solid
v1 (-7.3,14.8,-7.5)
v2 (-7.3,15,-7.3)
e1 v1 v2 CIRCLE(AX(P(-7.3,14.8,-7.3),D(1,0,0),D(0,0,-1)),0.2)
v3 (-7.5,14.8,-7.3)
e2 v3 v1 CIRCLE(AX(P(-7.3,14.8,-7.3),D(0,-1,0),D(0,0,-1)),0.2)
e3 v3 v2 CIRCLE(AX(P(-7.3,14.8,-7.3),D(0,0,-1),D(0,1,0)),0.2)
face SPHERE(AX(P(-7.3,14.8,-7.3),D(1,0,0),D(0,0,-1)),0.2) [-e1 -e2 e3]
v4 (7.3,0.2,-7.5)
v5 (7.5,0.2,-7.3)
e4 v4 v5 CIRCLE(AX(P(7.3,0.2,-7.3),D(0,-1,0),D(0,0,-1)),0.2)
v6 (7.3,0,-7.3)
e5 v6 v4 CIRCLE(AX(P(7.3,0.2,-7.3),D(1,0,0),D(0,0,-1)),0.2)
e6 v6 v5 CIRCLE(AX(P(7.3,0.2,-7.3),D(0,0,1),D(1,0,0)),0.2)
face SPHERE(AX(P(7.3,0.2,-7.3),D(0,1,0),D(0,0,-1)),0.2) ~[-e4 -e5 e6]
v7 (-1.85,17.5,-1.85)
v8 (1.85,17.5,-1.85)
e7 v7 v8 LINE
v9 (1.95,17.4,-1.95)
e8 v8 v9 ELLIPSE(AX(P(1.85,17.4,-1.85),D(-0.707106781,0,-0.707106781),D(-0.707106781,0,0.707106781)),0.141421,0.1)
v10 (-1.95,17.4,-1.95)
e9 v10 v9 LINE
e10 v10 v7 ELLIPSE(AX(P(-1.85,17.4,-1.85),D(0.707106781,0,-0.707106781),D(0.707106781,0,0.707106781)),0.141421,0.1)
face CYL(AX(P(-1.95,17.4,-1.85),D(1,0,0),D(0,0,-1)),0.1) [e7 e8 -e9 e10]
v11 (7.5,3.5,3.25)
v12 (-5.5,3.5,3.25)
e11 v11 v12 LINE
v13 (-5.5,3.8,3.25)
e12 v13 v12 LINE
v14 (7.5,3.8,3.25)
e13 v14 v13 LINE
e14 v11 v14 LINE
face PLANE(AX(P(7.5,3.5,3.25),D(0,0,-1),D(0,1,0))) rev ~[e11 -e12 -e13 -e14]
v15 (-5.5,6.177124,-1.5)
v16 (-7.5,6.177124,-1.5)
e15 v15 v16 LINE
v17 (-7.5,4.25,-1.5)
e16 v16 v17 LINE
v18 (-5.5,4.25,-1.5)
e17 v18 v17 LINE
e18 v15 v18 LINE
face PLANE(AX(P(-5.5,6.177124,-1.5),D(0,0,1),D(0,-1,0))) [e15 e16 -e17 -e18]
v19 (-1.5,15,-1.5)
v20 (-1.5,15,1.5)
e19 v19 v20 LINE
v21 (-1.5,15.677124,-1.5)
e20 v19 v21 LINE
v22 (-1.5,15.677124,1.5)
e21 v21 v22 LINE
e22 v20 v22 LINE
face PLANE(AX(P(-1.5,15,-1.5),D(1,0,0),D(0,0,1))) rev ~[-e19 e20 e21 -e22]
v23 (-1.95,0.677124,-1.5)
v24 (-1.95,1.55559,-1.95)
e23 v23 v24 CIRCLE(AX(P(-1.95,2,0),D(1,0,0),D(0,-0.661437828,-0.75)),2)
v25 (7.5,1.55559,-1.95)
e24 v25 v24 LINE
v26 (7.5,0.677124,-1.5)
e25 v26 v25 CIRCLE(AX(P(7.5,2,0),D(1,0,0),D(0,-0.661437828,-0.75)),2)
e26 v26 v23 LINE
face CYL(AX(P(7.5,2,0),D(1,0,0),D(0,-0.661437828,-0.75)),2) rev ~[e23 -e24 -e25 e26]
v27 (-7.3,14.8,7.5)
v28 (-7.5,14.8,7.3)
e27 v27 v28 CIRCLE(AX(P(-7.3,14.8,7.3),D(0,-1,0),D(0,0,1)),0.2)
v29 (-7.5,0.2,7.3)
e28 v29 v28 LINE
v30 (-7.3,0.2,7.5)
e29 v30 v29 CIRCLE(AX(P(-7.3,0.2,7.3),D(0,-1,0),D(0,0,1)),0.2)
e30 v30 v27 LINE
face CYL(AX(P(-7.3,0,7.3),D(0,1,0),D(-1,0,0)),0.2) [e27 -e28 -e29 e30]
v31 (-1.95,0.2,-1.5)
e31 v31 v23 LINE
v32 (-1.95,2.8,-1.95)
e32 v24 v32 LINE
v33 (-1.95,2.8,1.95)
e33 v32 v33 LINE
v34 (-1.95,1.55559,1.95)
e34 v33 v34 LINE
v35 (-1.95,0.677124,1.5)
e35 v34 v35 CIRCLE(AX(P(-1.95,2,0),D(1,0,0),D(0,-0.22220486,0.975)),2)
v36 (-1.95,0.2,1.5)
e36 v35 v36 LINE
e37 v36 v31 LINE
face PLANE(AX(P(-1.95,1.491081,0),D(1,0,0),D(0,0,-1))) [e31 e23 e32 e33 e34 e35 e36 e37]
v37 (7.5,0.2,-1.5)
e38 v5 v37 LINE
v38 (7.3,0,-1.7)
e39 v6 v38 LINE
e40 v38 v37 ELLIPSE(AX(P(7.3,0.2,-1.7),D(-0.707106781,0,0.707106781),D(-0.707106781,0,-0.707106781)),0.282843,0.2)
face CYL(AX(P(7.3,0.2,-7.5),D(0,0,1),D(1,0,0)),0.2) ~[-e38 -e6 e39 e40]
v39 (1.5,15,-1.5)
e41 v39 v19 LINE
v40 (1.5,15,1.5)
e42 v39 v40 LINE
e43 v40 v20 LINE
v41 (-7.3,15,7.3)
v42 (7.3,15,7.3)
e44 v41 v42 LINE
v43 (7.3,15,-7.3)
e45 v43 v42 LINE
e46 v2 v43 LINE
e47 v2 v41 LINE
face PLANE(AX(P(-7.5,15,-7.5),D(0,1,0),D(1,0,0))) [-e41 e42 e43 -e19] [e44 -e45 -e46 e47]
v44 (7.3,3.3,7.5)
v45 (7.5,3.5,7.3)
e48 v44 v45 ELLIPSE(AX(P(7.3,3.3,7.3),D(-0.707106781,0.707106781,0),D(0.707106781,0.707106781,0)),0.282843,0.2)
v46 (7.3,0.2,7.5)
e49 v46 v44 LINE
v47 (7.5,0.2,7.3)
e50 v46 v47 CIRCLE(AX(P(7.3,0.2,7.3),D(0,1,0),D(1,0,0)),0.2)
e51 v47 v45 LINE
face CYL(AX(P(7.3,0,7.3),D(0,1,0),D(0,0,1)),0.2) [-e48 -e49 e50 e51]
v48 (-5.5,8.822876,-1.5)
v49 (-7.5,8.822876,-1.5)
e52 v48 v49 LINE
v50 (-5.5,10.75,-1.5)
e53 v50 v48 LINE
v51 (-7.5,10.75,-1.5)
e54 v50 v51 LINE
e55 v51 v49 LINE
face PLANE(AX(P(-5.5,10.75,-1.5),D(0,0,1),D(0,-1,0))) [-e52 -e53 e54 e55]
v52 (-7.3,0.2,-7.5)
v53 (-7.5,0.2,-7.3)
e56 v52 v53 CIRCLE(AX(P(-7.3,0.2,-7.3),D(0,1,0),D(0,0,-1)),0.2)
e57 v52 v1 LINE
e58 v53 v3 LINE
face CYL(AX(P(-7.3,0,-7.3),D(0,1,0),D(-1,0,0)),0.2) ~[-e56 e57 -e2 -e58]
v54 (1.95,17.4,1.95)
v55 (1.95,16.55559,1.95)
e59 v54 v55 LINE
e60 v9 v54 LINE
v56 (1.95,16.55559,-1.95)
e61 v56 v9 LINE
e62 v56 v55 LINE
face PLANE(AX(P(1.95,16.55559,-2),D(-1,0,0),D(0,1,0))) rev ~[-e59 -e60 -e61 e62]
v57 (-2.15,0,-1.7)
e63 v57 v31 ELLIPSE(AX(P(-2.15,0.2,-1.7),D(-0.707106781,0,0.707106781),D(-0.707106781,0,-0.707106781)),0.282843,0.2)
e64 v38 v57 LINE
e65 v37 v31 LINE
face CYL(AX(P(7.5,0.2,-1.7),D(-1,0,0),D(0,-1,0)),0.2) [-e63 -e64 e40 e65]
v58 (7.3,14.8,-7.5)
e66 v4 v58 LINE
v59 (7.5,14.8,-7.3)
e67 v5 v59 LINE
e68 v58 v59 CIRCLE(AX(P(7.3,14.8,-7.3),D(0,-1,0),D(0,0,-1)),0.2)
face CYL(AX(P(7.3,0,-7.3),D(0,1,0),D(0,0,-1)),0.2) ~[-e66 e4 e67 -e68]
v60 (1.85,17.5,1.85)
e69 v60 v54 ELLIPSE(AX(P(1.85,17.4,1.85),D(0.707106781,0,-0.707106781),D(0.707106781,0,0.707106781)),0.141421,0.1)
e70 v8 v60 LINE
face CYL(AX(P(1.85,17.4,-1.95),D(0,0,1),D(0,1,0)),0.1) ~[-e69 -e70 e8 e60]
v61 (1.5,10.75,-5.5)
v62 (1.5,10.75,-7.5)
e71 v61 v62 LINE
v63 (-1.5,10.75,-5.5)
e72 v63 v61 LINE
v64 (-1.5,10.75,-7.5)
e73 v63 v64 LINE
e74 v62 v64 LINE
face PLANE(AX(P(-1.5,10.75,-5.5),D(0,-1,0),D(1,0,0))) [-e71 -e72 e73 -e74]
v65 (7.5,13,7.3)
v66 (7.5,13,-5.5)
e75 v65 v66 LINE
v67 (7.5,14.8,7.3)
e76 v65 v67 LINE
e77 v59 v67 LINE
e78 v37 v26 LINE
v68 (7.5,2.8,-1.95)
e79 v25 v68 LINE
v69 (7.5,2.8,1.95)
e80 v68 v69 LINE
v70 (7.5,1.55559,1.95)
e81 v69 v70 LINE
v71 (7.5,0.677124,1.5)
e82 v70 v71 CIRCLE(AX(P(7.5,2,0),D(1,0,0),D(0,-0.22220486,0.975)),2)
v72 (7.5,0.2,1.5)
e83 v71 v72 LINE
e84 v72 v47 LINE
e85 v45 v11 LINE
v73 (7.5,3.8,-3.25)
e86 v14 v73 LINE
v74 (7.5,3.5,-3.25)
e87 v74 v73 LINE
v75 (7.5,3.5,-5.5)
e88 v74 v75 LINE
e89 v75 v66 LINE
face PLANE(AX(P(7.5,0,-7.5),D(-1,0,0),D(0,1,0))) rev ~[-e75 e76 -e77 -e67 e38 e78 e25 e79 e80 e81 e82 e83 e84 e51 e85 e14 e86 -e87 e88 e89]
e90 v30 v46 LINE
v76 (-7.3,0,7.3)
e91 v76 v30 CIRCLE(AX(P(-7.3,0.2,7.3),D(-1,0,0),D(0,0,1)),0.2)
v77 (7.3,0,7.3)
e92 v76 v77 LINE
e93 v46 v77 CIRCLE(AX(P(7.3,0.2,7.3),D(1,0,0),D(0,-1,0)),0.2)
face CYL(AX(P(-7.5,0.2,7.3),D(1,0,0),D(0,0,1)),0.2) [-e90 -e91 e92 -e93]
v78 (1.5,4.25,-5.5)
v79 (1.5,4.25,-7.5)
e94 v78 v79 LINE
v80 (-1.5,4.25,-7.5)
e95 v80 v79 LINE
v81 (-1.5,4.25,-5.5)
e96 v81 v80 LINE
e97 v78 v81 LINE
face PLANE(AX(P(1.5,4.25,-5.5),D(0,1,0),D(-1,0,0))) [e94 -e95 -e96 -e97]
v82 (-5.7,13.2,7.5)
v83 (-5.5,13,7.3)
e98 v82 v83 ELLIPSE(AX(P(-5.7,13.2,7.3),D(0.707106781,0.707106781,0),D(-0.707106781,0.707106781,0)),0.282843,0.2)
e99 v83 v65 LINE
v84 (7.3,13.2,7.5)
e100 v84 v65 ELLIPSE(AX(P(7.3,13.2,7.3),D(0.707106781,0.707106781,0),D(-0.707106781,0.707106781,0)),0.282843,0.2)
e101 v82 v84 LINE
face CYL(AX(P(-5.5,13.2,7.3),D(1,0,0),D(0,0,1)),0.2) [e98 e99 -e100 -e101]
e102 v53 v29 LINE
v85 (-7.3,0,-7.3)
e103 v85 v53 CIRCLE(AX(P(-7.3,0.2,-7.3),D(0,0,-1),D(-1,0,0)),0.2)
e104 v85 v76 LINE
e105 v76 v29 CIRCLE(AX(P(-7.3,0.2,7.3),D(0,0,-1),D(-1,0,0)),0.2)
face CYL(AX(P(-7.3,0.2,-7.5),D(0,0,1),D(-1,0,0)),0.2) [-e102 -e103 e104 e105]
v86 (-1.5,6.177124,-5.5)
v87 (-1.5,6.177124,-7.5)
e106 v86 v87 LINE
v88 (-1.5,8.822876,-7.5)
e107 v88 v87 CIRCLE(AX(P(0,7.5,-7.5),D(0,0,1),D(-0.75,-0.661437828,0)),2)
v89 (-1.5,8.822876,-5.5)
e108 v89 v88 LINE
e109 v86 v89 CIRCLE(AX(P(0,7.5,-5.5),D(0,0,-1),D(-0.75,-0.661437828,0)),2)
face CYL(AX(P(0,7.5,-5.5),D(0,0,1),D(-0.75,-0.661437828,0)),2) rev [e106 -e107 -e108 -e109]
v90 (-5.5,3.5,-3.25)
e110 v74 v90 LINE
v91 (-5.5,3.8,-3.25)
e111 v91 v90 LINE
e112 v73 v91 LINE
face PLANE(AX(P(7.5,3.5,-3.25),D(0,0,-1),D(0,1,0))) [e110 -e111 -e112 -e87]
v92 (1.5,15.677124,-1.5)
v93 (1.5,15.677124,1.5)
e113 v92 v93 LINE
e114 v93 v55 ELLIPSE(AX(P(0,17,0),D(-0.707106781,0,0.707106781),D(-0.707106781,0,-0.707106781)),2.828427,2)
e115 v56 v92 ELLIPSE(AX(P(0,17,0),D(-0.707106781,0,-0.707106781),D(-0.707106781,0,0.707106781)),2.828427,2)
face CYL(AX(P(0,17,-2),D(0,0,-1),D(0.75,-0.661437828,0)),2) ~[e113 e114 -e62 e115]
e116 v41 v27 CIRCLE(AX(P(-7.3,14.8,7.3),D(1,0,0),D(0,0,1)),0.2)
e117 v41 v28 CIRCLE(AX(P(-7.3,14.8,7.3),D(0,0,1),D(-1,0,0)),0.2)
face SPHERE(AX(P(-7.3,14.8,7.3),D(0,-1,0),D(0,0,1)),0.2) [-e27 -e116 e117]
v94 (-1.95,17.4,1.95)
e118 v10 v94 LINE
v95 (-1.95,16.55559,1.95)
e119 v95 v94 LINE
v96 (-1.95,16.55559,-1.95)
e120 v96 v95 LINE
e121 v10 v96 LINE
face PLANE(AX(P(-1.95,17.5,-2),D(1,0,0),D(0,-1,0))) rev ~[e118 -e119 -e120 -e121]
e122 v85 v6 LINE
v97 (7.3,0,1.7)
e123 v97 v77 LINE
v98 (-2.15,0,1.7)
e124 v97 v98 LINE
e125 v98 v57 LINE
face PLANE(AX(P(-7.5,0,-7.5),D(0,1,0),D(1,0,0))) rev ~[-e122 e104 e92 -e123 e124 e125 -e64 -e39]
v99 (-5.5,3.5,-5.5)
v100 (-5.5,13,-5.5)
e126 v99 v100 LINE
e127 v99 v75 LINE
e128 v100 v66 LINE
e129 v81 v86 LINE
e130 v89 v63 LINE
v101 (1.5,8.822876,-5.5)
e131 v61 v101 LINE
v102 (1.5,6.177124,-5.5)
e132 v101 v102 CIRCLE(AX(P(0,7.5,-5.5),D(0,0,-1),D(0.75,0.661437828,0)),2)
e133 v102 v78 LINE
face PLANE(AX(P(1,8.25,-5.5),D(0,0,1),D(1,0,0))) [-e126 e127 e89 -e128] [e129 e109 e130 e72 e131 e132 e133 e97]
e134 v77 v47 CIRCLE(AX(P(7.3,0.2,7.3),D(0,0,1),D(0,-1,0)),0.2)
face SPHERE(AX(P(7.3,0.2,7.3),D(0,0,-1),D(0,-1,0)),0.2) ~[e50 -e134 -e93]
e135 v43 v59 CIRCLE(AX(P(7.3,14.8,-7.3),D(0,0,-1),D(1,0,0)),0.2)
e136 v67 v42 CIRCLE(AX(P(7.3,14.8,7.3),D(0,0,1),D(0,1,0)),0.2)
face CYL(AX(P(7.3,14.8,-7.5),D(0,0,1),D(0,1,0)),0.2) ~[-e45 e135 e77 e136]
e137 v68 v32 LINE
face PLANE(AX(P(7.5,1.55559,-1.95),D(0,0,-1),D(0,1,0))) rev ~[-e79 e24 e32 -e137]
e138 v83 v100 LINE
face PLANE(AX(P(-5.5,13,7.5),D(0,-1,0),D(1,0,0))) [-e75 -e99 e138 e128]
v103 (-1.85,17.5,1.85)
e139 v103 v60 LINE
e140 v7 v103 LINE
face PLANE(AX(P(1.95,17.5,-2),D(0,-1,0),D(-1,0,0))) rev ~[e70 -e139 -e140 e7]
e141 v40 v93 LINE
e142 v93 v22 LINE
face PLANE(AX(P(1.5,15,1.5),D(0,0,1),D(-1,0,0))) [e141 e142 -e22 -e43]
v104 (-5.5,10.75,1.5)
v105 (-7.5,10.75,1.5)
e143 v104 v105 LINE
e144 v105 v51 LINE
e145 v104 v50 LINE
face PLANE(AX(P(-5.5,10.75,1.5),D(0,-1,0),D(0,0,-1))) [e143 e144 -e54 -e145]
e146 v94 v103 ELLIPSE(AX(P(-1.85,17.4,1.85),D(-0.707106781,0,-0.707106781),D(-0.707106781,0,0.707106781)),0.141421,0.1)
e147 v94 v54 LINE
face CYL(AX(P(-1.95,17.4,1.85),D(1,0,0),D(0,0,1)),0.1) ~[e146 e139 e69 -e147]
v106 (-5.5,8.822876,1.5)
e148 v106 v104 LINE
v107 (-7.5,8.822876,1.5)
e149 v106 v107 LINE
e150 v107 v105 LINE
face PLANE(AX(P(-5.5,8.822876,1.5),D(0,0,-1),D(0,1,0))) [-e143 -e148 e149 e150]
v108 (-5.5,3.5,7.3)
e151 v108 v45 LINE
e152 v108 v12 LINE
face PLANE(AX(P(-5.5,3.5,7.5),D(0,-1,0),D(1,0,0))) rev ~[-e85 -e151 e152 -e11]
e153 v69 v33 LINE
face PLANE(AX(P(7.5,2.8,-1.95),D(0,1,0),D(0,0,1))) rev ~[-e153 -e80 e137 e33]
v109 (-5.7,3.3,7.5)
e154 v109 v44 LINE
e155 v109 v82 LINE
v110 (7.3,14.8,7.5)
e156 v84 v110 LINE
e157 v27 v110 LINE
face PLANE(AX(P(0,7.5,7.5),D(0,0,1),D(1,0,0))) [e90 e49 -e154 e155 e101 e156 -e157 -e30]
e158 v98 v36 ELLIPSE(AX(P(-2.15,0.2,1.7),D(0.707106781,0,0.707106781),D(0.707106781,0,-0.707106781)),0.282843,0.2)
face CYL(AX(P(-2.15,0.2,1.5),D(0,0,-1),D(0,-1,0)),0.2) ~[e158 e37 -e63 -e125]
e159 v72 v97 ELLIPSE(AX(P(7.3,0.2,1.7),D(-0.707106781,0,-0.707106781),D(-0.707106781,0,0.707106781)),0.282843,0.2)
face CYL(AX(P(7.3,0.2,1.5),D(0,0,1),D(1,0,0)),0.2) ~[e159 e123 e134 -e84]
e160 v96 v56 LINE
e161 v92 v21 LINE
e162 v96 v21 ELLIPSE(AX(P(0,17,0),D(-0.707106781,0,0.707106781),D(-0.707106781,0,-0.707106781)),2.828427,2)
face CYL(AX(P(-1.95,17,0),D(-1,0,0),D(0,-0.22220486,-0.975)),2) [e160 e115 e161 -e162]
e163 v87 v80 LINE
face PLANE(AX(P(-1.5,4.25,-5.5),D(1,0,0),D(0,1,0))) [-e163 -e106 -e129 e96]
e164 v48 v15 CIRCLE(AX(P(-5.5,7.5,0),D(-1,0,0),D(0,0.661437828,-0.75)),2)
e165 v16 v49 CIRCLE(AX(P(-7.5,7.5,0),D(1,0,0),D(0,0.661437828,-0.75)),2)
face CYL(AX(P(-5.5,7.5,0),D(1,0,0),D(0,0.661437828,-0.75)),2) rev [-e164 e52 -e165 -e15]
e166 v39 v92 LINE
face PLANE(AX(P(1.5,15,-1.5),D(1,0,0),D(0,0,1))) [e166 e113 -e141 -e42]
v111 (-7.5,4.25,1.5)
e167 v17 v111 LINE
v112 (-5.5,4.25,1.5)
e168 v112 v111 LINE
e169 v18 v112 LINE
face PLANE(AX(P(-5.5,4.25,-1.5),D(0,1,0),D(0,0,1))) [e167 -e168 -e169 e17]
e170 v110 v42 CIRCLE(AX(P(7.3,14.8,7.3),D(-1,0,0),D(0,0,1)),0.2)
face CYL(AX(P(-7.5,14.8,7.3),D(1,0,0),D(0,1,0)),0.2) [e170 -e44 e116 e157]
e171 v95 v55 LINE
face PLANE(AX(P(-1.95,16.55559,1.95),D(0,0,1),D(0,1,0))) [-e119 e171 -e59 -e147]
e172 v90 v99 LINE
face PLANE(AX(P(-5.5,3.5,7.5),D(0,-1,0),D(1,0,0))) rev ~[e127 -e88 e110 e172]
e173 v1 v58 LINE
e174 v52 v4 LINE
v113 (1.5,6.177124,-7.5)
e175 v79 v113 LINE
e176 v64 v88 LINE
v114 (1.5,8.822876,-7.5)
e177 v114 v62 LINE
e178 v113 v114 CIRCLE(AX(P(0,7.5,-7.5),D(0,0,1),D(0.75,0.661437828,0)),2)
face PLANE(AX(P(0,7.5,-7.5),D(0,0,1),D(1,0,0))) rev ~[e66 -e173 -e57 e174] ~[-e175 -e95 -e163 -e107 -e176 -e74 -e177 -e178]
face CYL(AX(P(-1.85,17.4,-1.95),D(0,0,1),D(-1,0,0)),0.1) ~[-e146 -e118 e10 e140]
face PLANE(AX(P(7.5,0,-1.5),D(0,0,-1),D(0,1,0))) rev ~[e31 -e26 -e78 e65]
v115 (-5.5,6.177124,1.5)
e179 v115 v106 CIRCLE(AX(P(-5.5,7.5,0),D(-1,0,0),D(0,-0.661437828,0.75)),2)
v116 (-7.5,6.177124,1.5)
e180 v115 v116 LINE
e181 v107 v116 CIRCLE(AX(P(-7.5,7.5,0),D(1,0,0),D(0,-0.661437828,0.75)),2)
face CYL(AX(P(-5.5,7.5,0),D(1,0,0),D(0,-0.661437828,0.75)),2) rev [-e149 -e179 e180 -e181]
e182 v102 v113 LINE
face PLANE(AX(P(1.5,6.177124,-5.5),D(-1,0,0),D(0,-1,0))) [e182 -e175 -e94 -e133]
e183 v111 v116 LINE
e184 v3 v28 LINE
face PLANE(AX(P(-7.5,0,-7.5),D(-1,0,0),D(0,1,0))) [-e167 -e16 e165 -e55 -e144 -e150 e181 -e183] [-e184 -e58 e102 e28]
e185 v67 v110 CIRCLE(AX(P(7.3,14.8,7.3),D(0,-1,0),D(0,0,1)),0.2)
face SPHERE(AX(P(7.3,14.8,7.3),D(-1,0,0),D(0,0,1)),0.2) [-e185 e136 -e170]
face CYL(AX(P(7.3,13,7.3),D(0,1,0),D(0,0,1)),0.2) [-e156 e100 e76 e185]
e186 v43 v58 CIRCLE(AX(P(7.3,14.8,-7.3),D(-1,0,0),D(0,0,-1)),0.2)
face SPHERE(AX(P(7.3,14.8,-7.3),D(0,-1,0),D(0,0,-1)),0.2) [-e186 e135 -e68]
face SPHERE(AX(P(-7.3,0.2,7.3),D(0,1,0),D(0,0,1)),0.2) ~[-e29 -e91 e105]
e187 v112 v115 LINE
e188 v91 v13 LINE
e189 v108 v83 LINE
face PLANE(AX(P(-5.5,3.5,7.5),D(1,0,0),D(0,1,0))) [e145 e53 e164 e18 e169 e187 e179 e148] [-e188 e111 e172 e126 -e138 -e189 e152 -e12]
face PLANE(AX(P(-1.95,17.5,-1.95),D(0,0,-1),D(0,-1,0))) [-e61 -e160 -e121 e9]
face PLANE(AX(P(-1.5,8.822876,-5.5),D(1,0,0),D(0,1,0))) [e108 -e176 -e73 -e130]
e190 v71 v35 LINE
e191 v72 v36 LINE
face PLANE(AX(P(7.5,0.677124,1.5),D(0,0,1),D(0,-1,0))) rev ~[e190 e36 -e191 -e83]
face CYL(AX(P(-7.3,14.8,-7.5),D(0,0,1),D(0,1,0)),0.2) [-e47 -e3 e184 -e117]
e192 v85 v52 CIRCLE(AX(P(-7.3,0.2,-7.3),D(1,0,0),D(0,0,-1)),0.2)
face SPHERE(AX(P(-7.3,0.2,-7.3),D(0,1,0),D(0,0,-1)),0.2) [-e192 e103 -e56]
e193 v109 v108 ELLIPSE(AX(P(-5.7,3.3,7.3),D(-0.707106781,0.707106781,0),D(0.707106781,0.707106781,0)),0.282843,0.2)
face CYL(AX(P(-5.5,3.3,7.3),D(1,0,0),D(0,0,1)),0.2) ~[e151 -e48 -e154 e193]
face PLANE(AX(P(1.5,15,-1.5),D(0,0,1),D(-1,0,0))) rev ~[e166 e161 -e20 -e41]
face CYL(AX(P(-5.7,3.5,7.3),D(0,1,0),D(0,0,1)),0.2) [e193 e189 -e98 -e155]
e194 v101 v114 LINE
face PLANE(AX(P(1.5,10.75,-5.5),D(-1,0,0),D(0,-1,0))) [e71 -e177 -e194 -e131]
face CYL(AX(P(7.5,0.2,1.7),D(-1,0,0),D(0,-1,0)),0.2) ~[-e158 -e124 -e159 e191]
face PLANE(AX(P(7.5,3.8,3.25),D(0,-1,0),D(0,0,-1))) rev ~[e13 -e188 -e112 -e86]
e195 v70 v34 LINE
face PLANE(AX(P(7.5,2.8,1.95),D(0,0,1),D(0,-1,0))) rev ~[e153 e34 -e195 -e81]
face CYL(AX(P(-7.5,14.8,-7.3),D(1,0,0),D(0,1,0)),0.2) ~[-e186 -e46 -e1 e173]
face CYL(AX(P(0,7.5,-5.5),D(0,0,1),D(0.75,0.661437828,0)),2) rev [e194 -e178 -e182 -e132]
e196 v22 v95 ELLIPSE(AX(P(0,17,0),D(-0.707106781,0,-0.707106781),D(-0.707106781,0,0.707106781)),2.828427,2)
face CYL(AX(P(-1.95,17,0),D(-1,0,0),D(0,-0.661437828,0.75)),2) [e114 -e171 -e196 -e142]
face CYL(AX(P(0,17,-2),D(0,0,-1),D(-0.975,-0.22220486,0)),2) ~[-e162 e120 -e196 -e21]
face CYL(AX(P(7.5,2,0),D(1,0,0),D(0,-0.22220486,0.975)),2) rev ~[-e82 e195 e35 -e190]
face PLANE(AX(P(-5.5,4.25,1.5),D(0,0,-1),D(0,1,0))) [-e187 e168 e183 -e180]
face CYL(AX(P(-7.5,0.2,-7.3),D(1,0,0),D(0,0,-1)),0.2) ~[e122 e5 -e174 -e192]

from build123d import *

# Parameters (mm, degrees)
EXTRUDE_1_DEPTH      = 7.5
EXTRUDE_1_DEPTH_BACK = 7.5
SKETCH_1_W           = 15
SKETCH_1_H           = 15
SKETCH_2_W           = 13
SKETCH_2_H           = 9.5
CUT_EXTRUDE_1_DEPTH  = 13
SKETCH_3_W           = 3
SKETCH_3_H           = 3
EXTRUDE_2_DEPTH      = 1
EXTRUDE_3_DEPTH      = 2
EXTRUDE_3_DEPTH_BACK = 2
CUT_EXTRUDE_2_REACH  = 23.256
EXTRUDE_4_REACH      = 26.238
SKETCH_6_W           = 6.5
SKETCH_6_H           = 0.3
CUT_EXTRUDE_3_DEPTH  = 9.45
CUT_EXTRUDE_4_REACH  = 25.054
CUT_EXTRUDE_5_REACH  = 25.054
FILLET_1_R           = 0.1
FILLET_2_R           = 0.2


with BuildPart() as part:
    # Sketch 1 → Extrude 1 (new, two sides: drawn at the far end of the back side and taken through both)
    with BuildSketch(Plane.XY.offset(-EXTRUDE_1_DEPTH_BACK)):
        with Locations((0, 7.5)):
            Rectangle(SKETCH_1_W, SKETCH_1_H)
    extrude(amount=EXTRUDE_1_DEPTH + EXTRUDE_1_DEPTH_BACK)

    # Sketch 2 → Cut-Extrude 1 (cut)
    with BuildSketch(Plane.XY.offset(7.5)):
        with Locations((1, 8.25)):
            Rectangle(SKETCH_2_W, SKETCH_2_H)
    extrude(amount=-CUT_EXTRUDE_1_DEPTH, mode=Mode.SUBTRACT)

    # Sketch 3 → Extrude 2 (add)
    with BuildSketch(Plane(origin=(0, 15, 0), x_dir=(-1, 0, 0), z_dir=(0, 1, 0))):
        Rectangle(SKETCH_3_W, SKETCH_3_H)
    extrude(amount=EXTRUDE_2_DEPTH)

    # Sketch 4 → Extrude 3 (add, two sides: drawn at the far end of the back side and taken through both)
    with BuildSketch(Plane.XY.offset(-EXTRUDE_3_DEPTH_BACK)):
        with BuildLine():
            Line((-1.95, 17.5), (-1.95, 16.555590279))
            ThreePointArc((-1.95, 16.555590279), (-1.780042303, 16.088161527), (-1.5, 15.677124344))
            Line((-1.5, 15.677124344), (1.5, 15.677124344))
            ThreePointArc((1.5, 15.677124344), (1.780042303, 16.088161527), (1.95, 16.555590279))
            Line((1.95, 16.555590279), (1.95, 17.5))
            Line((1.95, 17.5), (-1.95, 17.5))
        make_face()
    extrude(amount=EXTRUDE_3_DEPTH + EXTRUDE_3_DEPTH_BACK)

    # Sketch 5 → Cut-Extrude 2 (cut, up to next)
    with BuildSketch(Plane.ZY.offset(1.95), mode=Mode.PRIVATE) as cut_extrude_2_sk1:
        with BuildLine():
            Line((-1.95, 17.5), (-1.95, 16.555590279))
            ThreePointArc((-1.95, 16.555590279), (-1.780042303, 16.088161527), (-1.5, 15.677124344))
            Line((-1.5, 15.677124344), (-2, 15.677124344))
            Line((-2, 15.677124344), (-2, 17.5))
            Line((-2, 17.5), (-1.95, 17.5))
        make_face()
    cut_extrude_2_tool1 = extrude(cut_extrude_2_sk1.sketch, amount=-CUT_EXTRUDE_2_REACH, mode=Mode.PRIVATE) & part.part
    # Sketch 5 → Cut-Extrude 2 (cut, up to next)
    with BuildSketch(Plane.ZY.offset(1.95), mode=Mode.PRIVATE) as cut_extrude_2_sk2:
        with BuildLine():
            Line((2, 17.5), (2, 15.677124344))
            Line((2, 15.677124344), (1.5, 15.677124344))
            ThreePointArc((1.5, 15.677124344), (1.780042303, 16.088161527), (1.95, 16.555590279))
            Line((1.95, 16.555590279), (1.95, 17.5))
            Line((1.95, 17.5), (2, 17.5))
        make_face()
    cut_extrude_2_tool2 = extrude(cut_extrude_2_sk2.sketch, amount=-CUT_EXTRUDE_2_REACH, mode=Mode.PRIVATE) & part.part
    add(cut_extrude_2_tool1.solids().sort_by_distance((-1.95, 16.175075, -1.873038))[0], mode=Mode.SUBTRACT)
    add(cut_extrude_2_tool2.solids().sort_by_distance((-1.95, 16.175075, 1.873038))[0], mode=Mode.SUBTRACT)

    # Sketch 6 → Extrude 4 (add, up to next)
    with BuildSketch(Plane(origin=(7.5, 0, 0), x_dir=(0, 0, -1), z_dir=(1, 0, 0)), mode=Mode.PRIVATE) as extrude_4_sk1:
        with Locations((0, 3.65)):
            Rectangle(SKETCH_6_W, SKETCH_6_H)
    extrude_4_tool1 = extrude(extrude_4_sk1.sketch, amount=-EXTRUDE_4_REACH, mode=Mode.PRIVATE) - part.part
    add(extrude_4_tool1.solids().sort_by_distance((7.5, 3.65, 0))[0])

    # Sketch 7 → Cut-Extrude 3 (cut)
    with BuildSketch(Plane(origin=(7.5, 0, 0), x_dir=(0, 0, -1), z_dir=(1, 0, 0))):
        with BuildLine():
            Line((-1.5, 0), (1.5, 0))
            Line((1.5, 0), (1.5, 0.677124344))
            ThreePointArc((1.5, 0.677124344), (1.780042303, 1.088161527), (1.95, 1.555590279))
            Line((1.95, 1.555590279), (1.95, 2.8))
            Line((1.95, 2.8), (-1.95, 2.8))
            Line((-1.95, 2.8), (-1.95, 1.555590279))
            ThreePointArc((-1.95, 1.555590279), (-1.780042303, 1.088161527), (-1.5, 0.677124344))
            Line((-1.5, 0.677124344), (-1.5, 0))
        make_face()
    extrude(amount=-CUT_EXTRUDE_3_DEPTH, mode=Mode.SUBTRACT)

    # Sketch 8 → Cut-Extrude 4 (cut, up to next)
    with BuildSketch(Plane.XY.offset(-5.5), mode=Mode.PRIVATE) as cut_extrude_4_sk1:
        with BuildLine():
            Line((-1.5, 8.822875656), (-1.5, 10.75))
            Line((-1.5, 10.75), (1.5, 10.75))
            Line((1.5, 10.75), (1.5, 8.822875656))
            ThreePointArc((1.5, 8.822875656), (2, 7.5), (1.5, 6.177124344))
            Line((1.5, 6.177124344), (1.5, 4.25))
            Line((1.5, 4.25), (-1.5, 4.25))
            Line((-1.5, 4.25), (-1.5, 6.177124344))
            ThreePointArc((-1.5, 6.177124344), (-2, 7.5), (-1.5, 8.822875656))
        make_face()
    cut_extrude_4_tool1 = extrude(cut_extrude_4_sk1.sketch, amount=-CUT_EXTRUDE_4_REACH, mode=Mode.PRIVATE) & part.part
    add(cut_extrude_4_tool1.solids().sort_by_distance((0, 7.5, -5.5))[0], mode=Mode.SUBTRACT)

    # Sketch 9 → Cut-Extrude 5 (cut, up to next)
    with BuildSketch(Plane(origin=(-5.5, 0, 0), x_dir=(0, 0, -1), z_dir=(1, 0, 0)), mode=Mode.PRIVATE) as cut_extrude_5_sk1:
        with BuildLine():
            Line((-1.5, 8.822875656), (-1.5, 10.75))
            Line((-1.5, 10.75), (1.5, 10.75))
            Line((1.5, 10.75), (1.5, 8.822875656))
            ThreePointArc((1.5, 8.822875656), (2, 7.5), (1.5, 6.177124344))
            Line((1.5, 6.177124344), (1.5, 4.25))
            Line((1.5, 4.25), (-1.5, 4.25))
            Line((-1.5, 4.25), (-1.5, 6.177124344))
            ThreePointArc((-1.5, 6.177124344), (-2, 7.5), (-1.5, 8.822875656))
        make_face()
    cut_extrude_5_tool1 = extrude(cut_extrude_5_sk1.sketch, amount=-CUT_EXTRUDE_5_REACH, mode=Mode.PRIVATE) & part.part
    add(cut_extrude_5_tool1.solids().sort_by_distance((-5.5, 7.5, 0))[0], mode=Mode.SUBTRACT)

    # Fillet 1
    fillet_1_edges = [part.edges().sort_by_distance(p)[0] for p in [
        (-1.95, 17.5, 0),
        (1.95, 17.5, 0),
        (0, 17.5, -1.95),
        (0, 17.5, 1.95),
    ]]
    fillet(fillet_1_edges, radius=FILLET_1_R)

    # Fillet 2
    fillet_2_edges = [part.edges().sort_by_distance(p)[0] for p in [
        (7.5, 7.5, -7.5),
        (7.5, 0, 4.5),
        (-7.5, 7.5, 7.5),
        (-1.95, 0, 0),
        (2.775, 0, -1.5),
        (2.775, 0, 1.5),
        (0, 0, 7.5),
        (0, 15, -7.5),
        (7.5, 1.75, 7.5),
        (0, 15, 7.5),
        (7.5, 14, 7.5),
        (-5.5, 8.25, 7.5),
        (1, 3.5, 7.5),
        (1, 13, 7.5),
        (-7.5, 7.5, -7.5),
        (0, 0, -7.5),
        (-7.5, 15, 0),
        (7.5, 15, 0),
        (7.5, 0, -4.5),
        (-7.5, 0, 0),
    ]]
    fillet(fillet_2_edges, radius=FILLET_2_R)


solid = part.part
